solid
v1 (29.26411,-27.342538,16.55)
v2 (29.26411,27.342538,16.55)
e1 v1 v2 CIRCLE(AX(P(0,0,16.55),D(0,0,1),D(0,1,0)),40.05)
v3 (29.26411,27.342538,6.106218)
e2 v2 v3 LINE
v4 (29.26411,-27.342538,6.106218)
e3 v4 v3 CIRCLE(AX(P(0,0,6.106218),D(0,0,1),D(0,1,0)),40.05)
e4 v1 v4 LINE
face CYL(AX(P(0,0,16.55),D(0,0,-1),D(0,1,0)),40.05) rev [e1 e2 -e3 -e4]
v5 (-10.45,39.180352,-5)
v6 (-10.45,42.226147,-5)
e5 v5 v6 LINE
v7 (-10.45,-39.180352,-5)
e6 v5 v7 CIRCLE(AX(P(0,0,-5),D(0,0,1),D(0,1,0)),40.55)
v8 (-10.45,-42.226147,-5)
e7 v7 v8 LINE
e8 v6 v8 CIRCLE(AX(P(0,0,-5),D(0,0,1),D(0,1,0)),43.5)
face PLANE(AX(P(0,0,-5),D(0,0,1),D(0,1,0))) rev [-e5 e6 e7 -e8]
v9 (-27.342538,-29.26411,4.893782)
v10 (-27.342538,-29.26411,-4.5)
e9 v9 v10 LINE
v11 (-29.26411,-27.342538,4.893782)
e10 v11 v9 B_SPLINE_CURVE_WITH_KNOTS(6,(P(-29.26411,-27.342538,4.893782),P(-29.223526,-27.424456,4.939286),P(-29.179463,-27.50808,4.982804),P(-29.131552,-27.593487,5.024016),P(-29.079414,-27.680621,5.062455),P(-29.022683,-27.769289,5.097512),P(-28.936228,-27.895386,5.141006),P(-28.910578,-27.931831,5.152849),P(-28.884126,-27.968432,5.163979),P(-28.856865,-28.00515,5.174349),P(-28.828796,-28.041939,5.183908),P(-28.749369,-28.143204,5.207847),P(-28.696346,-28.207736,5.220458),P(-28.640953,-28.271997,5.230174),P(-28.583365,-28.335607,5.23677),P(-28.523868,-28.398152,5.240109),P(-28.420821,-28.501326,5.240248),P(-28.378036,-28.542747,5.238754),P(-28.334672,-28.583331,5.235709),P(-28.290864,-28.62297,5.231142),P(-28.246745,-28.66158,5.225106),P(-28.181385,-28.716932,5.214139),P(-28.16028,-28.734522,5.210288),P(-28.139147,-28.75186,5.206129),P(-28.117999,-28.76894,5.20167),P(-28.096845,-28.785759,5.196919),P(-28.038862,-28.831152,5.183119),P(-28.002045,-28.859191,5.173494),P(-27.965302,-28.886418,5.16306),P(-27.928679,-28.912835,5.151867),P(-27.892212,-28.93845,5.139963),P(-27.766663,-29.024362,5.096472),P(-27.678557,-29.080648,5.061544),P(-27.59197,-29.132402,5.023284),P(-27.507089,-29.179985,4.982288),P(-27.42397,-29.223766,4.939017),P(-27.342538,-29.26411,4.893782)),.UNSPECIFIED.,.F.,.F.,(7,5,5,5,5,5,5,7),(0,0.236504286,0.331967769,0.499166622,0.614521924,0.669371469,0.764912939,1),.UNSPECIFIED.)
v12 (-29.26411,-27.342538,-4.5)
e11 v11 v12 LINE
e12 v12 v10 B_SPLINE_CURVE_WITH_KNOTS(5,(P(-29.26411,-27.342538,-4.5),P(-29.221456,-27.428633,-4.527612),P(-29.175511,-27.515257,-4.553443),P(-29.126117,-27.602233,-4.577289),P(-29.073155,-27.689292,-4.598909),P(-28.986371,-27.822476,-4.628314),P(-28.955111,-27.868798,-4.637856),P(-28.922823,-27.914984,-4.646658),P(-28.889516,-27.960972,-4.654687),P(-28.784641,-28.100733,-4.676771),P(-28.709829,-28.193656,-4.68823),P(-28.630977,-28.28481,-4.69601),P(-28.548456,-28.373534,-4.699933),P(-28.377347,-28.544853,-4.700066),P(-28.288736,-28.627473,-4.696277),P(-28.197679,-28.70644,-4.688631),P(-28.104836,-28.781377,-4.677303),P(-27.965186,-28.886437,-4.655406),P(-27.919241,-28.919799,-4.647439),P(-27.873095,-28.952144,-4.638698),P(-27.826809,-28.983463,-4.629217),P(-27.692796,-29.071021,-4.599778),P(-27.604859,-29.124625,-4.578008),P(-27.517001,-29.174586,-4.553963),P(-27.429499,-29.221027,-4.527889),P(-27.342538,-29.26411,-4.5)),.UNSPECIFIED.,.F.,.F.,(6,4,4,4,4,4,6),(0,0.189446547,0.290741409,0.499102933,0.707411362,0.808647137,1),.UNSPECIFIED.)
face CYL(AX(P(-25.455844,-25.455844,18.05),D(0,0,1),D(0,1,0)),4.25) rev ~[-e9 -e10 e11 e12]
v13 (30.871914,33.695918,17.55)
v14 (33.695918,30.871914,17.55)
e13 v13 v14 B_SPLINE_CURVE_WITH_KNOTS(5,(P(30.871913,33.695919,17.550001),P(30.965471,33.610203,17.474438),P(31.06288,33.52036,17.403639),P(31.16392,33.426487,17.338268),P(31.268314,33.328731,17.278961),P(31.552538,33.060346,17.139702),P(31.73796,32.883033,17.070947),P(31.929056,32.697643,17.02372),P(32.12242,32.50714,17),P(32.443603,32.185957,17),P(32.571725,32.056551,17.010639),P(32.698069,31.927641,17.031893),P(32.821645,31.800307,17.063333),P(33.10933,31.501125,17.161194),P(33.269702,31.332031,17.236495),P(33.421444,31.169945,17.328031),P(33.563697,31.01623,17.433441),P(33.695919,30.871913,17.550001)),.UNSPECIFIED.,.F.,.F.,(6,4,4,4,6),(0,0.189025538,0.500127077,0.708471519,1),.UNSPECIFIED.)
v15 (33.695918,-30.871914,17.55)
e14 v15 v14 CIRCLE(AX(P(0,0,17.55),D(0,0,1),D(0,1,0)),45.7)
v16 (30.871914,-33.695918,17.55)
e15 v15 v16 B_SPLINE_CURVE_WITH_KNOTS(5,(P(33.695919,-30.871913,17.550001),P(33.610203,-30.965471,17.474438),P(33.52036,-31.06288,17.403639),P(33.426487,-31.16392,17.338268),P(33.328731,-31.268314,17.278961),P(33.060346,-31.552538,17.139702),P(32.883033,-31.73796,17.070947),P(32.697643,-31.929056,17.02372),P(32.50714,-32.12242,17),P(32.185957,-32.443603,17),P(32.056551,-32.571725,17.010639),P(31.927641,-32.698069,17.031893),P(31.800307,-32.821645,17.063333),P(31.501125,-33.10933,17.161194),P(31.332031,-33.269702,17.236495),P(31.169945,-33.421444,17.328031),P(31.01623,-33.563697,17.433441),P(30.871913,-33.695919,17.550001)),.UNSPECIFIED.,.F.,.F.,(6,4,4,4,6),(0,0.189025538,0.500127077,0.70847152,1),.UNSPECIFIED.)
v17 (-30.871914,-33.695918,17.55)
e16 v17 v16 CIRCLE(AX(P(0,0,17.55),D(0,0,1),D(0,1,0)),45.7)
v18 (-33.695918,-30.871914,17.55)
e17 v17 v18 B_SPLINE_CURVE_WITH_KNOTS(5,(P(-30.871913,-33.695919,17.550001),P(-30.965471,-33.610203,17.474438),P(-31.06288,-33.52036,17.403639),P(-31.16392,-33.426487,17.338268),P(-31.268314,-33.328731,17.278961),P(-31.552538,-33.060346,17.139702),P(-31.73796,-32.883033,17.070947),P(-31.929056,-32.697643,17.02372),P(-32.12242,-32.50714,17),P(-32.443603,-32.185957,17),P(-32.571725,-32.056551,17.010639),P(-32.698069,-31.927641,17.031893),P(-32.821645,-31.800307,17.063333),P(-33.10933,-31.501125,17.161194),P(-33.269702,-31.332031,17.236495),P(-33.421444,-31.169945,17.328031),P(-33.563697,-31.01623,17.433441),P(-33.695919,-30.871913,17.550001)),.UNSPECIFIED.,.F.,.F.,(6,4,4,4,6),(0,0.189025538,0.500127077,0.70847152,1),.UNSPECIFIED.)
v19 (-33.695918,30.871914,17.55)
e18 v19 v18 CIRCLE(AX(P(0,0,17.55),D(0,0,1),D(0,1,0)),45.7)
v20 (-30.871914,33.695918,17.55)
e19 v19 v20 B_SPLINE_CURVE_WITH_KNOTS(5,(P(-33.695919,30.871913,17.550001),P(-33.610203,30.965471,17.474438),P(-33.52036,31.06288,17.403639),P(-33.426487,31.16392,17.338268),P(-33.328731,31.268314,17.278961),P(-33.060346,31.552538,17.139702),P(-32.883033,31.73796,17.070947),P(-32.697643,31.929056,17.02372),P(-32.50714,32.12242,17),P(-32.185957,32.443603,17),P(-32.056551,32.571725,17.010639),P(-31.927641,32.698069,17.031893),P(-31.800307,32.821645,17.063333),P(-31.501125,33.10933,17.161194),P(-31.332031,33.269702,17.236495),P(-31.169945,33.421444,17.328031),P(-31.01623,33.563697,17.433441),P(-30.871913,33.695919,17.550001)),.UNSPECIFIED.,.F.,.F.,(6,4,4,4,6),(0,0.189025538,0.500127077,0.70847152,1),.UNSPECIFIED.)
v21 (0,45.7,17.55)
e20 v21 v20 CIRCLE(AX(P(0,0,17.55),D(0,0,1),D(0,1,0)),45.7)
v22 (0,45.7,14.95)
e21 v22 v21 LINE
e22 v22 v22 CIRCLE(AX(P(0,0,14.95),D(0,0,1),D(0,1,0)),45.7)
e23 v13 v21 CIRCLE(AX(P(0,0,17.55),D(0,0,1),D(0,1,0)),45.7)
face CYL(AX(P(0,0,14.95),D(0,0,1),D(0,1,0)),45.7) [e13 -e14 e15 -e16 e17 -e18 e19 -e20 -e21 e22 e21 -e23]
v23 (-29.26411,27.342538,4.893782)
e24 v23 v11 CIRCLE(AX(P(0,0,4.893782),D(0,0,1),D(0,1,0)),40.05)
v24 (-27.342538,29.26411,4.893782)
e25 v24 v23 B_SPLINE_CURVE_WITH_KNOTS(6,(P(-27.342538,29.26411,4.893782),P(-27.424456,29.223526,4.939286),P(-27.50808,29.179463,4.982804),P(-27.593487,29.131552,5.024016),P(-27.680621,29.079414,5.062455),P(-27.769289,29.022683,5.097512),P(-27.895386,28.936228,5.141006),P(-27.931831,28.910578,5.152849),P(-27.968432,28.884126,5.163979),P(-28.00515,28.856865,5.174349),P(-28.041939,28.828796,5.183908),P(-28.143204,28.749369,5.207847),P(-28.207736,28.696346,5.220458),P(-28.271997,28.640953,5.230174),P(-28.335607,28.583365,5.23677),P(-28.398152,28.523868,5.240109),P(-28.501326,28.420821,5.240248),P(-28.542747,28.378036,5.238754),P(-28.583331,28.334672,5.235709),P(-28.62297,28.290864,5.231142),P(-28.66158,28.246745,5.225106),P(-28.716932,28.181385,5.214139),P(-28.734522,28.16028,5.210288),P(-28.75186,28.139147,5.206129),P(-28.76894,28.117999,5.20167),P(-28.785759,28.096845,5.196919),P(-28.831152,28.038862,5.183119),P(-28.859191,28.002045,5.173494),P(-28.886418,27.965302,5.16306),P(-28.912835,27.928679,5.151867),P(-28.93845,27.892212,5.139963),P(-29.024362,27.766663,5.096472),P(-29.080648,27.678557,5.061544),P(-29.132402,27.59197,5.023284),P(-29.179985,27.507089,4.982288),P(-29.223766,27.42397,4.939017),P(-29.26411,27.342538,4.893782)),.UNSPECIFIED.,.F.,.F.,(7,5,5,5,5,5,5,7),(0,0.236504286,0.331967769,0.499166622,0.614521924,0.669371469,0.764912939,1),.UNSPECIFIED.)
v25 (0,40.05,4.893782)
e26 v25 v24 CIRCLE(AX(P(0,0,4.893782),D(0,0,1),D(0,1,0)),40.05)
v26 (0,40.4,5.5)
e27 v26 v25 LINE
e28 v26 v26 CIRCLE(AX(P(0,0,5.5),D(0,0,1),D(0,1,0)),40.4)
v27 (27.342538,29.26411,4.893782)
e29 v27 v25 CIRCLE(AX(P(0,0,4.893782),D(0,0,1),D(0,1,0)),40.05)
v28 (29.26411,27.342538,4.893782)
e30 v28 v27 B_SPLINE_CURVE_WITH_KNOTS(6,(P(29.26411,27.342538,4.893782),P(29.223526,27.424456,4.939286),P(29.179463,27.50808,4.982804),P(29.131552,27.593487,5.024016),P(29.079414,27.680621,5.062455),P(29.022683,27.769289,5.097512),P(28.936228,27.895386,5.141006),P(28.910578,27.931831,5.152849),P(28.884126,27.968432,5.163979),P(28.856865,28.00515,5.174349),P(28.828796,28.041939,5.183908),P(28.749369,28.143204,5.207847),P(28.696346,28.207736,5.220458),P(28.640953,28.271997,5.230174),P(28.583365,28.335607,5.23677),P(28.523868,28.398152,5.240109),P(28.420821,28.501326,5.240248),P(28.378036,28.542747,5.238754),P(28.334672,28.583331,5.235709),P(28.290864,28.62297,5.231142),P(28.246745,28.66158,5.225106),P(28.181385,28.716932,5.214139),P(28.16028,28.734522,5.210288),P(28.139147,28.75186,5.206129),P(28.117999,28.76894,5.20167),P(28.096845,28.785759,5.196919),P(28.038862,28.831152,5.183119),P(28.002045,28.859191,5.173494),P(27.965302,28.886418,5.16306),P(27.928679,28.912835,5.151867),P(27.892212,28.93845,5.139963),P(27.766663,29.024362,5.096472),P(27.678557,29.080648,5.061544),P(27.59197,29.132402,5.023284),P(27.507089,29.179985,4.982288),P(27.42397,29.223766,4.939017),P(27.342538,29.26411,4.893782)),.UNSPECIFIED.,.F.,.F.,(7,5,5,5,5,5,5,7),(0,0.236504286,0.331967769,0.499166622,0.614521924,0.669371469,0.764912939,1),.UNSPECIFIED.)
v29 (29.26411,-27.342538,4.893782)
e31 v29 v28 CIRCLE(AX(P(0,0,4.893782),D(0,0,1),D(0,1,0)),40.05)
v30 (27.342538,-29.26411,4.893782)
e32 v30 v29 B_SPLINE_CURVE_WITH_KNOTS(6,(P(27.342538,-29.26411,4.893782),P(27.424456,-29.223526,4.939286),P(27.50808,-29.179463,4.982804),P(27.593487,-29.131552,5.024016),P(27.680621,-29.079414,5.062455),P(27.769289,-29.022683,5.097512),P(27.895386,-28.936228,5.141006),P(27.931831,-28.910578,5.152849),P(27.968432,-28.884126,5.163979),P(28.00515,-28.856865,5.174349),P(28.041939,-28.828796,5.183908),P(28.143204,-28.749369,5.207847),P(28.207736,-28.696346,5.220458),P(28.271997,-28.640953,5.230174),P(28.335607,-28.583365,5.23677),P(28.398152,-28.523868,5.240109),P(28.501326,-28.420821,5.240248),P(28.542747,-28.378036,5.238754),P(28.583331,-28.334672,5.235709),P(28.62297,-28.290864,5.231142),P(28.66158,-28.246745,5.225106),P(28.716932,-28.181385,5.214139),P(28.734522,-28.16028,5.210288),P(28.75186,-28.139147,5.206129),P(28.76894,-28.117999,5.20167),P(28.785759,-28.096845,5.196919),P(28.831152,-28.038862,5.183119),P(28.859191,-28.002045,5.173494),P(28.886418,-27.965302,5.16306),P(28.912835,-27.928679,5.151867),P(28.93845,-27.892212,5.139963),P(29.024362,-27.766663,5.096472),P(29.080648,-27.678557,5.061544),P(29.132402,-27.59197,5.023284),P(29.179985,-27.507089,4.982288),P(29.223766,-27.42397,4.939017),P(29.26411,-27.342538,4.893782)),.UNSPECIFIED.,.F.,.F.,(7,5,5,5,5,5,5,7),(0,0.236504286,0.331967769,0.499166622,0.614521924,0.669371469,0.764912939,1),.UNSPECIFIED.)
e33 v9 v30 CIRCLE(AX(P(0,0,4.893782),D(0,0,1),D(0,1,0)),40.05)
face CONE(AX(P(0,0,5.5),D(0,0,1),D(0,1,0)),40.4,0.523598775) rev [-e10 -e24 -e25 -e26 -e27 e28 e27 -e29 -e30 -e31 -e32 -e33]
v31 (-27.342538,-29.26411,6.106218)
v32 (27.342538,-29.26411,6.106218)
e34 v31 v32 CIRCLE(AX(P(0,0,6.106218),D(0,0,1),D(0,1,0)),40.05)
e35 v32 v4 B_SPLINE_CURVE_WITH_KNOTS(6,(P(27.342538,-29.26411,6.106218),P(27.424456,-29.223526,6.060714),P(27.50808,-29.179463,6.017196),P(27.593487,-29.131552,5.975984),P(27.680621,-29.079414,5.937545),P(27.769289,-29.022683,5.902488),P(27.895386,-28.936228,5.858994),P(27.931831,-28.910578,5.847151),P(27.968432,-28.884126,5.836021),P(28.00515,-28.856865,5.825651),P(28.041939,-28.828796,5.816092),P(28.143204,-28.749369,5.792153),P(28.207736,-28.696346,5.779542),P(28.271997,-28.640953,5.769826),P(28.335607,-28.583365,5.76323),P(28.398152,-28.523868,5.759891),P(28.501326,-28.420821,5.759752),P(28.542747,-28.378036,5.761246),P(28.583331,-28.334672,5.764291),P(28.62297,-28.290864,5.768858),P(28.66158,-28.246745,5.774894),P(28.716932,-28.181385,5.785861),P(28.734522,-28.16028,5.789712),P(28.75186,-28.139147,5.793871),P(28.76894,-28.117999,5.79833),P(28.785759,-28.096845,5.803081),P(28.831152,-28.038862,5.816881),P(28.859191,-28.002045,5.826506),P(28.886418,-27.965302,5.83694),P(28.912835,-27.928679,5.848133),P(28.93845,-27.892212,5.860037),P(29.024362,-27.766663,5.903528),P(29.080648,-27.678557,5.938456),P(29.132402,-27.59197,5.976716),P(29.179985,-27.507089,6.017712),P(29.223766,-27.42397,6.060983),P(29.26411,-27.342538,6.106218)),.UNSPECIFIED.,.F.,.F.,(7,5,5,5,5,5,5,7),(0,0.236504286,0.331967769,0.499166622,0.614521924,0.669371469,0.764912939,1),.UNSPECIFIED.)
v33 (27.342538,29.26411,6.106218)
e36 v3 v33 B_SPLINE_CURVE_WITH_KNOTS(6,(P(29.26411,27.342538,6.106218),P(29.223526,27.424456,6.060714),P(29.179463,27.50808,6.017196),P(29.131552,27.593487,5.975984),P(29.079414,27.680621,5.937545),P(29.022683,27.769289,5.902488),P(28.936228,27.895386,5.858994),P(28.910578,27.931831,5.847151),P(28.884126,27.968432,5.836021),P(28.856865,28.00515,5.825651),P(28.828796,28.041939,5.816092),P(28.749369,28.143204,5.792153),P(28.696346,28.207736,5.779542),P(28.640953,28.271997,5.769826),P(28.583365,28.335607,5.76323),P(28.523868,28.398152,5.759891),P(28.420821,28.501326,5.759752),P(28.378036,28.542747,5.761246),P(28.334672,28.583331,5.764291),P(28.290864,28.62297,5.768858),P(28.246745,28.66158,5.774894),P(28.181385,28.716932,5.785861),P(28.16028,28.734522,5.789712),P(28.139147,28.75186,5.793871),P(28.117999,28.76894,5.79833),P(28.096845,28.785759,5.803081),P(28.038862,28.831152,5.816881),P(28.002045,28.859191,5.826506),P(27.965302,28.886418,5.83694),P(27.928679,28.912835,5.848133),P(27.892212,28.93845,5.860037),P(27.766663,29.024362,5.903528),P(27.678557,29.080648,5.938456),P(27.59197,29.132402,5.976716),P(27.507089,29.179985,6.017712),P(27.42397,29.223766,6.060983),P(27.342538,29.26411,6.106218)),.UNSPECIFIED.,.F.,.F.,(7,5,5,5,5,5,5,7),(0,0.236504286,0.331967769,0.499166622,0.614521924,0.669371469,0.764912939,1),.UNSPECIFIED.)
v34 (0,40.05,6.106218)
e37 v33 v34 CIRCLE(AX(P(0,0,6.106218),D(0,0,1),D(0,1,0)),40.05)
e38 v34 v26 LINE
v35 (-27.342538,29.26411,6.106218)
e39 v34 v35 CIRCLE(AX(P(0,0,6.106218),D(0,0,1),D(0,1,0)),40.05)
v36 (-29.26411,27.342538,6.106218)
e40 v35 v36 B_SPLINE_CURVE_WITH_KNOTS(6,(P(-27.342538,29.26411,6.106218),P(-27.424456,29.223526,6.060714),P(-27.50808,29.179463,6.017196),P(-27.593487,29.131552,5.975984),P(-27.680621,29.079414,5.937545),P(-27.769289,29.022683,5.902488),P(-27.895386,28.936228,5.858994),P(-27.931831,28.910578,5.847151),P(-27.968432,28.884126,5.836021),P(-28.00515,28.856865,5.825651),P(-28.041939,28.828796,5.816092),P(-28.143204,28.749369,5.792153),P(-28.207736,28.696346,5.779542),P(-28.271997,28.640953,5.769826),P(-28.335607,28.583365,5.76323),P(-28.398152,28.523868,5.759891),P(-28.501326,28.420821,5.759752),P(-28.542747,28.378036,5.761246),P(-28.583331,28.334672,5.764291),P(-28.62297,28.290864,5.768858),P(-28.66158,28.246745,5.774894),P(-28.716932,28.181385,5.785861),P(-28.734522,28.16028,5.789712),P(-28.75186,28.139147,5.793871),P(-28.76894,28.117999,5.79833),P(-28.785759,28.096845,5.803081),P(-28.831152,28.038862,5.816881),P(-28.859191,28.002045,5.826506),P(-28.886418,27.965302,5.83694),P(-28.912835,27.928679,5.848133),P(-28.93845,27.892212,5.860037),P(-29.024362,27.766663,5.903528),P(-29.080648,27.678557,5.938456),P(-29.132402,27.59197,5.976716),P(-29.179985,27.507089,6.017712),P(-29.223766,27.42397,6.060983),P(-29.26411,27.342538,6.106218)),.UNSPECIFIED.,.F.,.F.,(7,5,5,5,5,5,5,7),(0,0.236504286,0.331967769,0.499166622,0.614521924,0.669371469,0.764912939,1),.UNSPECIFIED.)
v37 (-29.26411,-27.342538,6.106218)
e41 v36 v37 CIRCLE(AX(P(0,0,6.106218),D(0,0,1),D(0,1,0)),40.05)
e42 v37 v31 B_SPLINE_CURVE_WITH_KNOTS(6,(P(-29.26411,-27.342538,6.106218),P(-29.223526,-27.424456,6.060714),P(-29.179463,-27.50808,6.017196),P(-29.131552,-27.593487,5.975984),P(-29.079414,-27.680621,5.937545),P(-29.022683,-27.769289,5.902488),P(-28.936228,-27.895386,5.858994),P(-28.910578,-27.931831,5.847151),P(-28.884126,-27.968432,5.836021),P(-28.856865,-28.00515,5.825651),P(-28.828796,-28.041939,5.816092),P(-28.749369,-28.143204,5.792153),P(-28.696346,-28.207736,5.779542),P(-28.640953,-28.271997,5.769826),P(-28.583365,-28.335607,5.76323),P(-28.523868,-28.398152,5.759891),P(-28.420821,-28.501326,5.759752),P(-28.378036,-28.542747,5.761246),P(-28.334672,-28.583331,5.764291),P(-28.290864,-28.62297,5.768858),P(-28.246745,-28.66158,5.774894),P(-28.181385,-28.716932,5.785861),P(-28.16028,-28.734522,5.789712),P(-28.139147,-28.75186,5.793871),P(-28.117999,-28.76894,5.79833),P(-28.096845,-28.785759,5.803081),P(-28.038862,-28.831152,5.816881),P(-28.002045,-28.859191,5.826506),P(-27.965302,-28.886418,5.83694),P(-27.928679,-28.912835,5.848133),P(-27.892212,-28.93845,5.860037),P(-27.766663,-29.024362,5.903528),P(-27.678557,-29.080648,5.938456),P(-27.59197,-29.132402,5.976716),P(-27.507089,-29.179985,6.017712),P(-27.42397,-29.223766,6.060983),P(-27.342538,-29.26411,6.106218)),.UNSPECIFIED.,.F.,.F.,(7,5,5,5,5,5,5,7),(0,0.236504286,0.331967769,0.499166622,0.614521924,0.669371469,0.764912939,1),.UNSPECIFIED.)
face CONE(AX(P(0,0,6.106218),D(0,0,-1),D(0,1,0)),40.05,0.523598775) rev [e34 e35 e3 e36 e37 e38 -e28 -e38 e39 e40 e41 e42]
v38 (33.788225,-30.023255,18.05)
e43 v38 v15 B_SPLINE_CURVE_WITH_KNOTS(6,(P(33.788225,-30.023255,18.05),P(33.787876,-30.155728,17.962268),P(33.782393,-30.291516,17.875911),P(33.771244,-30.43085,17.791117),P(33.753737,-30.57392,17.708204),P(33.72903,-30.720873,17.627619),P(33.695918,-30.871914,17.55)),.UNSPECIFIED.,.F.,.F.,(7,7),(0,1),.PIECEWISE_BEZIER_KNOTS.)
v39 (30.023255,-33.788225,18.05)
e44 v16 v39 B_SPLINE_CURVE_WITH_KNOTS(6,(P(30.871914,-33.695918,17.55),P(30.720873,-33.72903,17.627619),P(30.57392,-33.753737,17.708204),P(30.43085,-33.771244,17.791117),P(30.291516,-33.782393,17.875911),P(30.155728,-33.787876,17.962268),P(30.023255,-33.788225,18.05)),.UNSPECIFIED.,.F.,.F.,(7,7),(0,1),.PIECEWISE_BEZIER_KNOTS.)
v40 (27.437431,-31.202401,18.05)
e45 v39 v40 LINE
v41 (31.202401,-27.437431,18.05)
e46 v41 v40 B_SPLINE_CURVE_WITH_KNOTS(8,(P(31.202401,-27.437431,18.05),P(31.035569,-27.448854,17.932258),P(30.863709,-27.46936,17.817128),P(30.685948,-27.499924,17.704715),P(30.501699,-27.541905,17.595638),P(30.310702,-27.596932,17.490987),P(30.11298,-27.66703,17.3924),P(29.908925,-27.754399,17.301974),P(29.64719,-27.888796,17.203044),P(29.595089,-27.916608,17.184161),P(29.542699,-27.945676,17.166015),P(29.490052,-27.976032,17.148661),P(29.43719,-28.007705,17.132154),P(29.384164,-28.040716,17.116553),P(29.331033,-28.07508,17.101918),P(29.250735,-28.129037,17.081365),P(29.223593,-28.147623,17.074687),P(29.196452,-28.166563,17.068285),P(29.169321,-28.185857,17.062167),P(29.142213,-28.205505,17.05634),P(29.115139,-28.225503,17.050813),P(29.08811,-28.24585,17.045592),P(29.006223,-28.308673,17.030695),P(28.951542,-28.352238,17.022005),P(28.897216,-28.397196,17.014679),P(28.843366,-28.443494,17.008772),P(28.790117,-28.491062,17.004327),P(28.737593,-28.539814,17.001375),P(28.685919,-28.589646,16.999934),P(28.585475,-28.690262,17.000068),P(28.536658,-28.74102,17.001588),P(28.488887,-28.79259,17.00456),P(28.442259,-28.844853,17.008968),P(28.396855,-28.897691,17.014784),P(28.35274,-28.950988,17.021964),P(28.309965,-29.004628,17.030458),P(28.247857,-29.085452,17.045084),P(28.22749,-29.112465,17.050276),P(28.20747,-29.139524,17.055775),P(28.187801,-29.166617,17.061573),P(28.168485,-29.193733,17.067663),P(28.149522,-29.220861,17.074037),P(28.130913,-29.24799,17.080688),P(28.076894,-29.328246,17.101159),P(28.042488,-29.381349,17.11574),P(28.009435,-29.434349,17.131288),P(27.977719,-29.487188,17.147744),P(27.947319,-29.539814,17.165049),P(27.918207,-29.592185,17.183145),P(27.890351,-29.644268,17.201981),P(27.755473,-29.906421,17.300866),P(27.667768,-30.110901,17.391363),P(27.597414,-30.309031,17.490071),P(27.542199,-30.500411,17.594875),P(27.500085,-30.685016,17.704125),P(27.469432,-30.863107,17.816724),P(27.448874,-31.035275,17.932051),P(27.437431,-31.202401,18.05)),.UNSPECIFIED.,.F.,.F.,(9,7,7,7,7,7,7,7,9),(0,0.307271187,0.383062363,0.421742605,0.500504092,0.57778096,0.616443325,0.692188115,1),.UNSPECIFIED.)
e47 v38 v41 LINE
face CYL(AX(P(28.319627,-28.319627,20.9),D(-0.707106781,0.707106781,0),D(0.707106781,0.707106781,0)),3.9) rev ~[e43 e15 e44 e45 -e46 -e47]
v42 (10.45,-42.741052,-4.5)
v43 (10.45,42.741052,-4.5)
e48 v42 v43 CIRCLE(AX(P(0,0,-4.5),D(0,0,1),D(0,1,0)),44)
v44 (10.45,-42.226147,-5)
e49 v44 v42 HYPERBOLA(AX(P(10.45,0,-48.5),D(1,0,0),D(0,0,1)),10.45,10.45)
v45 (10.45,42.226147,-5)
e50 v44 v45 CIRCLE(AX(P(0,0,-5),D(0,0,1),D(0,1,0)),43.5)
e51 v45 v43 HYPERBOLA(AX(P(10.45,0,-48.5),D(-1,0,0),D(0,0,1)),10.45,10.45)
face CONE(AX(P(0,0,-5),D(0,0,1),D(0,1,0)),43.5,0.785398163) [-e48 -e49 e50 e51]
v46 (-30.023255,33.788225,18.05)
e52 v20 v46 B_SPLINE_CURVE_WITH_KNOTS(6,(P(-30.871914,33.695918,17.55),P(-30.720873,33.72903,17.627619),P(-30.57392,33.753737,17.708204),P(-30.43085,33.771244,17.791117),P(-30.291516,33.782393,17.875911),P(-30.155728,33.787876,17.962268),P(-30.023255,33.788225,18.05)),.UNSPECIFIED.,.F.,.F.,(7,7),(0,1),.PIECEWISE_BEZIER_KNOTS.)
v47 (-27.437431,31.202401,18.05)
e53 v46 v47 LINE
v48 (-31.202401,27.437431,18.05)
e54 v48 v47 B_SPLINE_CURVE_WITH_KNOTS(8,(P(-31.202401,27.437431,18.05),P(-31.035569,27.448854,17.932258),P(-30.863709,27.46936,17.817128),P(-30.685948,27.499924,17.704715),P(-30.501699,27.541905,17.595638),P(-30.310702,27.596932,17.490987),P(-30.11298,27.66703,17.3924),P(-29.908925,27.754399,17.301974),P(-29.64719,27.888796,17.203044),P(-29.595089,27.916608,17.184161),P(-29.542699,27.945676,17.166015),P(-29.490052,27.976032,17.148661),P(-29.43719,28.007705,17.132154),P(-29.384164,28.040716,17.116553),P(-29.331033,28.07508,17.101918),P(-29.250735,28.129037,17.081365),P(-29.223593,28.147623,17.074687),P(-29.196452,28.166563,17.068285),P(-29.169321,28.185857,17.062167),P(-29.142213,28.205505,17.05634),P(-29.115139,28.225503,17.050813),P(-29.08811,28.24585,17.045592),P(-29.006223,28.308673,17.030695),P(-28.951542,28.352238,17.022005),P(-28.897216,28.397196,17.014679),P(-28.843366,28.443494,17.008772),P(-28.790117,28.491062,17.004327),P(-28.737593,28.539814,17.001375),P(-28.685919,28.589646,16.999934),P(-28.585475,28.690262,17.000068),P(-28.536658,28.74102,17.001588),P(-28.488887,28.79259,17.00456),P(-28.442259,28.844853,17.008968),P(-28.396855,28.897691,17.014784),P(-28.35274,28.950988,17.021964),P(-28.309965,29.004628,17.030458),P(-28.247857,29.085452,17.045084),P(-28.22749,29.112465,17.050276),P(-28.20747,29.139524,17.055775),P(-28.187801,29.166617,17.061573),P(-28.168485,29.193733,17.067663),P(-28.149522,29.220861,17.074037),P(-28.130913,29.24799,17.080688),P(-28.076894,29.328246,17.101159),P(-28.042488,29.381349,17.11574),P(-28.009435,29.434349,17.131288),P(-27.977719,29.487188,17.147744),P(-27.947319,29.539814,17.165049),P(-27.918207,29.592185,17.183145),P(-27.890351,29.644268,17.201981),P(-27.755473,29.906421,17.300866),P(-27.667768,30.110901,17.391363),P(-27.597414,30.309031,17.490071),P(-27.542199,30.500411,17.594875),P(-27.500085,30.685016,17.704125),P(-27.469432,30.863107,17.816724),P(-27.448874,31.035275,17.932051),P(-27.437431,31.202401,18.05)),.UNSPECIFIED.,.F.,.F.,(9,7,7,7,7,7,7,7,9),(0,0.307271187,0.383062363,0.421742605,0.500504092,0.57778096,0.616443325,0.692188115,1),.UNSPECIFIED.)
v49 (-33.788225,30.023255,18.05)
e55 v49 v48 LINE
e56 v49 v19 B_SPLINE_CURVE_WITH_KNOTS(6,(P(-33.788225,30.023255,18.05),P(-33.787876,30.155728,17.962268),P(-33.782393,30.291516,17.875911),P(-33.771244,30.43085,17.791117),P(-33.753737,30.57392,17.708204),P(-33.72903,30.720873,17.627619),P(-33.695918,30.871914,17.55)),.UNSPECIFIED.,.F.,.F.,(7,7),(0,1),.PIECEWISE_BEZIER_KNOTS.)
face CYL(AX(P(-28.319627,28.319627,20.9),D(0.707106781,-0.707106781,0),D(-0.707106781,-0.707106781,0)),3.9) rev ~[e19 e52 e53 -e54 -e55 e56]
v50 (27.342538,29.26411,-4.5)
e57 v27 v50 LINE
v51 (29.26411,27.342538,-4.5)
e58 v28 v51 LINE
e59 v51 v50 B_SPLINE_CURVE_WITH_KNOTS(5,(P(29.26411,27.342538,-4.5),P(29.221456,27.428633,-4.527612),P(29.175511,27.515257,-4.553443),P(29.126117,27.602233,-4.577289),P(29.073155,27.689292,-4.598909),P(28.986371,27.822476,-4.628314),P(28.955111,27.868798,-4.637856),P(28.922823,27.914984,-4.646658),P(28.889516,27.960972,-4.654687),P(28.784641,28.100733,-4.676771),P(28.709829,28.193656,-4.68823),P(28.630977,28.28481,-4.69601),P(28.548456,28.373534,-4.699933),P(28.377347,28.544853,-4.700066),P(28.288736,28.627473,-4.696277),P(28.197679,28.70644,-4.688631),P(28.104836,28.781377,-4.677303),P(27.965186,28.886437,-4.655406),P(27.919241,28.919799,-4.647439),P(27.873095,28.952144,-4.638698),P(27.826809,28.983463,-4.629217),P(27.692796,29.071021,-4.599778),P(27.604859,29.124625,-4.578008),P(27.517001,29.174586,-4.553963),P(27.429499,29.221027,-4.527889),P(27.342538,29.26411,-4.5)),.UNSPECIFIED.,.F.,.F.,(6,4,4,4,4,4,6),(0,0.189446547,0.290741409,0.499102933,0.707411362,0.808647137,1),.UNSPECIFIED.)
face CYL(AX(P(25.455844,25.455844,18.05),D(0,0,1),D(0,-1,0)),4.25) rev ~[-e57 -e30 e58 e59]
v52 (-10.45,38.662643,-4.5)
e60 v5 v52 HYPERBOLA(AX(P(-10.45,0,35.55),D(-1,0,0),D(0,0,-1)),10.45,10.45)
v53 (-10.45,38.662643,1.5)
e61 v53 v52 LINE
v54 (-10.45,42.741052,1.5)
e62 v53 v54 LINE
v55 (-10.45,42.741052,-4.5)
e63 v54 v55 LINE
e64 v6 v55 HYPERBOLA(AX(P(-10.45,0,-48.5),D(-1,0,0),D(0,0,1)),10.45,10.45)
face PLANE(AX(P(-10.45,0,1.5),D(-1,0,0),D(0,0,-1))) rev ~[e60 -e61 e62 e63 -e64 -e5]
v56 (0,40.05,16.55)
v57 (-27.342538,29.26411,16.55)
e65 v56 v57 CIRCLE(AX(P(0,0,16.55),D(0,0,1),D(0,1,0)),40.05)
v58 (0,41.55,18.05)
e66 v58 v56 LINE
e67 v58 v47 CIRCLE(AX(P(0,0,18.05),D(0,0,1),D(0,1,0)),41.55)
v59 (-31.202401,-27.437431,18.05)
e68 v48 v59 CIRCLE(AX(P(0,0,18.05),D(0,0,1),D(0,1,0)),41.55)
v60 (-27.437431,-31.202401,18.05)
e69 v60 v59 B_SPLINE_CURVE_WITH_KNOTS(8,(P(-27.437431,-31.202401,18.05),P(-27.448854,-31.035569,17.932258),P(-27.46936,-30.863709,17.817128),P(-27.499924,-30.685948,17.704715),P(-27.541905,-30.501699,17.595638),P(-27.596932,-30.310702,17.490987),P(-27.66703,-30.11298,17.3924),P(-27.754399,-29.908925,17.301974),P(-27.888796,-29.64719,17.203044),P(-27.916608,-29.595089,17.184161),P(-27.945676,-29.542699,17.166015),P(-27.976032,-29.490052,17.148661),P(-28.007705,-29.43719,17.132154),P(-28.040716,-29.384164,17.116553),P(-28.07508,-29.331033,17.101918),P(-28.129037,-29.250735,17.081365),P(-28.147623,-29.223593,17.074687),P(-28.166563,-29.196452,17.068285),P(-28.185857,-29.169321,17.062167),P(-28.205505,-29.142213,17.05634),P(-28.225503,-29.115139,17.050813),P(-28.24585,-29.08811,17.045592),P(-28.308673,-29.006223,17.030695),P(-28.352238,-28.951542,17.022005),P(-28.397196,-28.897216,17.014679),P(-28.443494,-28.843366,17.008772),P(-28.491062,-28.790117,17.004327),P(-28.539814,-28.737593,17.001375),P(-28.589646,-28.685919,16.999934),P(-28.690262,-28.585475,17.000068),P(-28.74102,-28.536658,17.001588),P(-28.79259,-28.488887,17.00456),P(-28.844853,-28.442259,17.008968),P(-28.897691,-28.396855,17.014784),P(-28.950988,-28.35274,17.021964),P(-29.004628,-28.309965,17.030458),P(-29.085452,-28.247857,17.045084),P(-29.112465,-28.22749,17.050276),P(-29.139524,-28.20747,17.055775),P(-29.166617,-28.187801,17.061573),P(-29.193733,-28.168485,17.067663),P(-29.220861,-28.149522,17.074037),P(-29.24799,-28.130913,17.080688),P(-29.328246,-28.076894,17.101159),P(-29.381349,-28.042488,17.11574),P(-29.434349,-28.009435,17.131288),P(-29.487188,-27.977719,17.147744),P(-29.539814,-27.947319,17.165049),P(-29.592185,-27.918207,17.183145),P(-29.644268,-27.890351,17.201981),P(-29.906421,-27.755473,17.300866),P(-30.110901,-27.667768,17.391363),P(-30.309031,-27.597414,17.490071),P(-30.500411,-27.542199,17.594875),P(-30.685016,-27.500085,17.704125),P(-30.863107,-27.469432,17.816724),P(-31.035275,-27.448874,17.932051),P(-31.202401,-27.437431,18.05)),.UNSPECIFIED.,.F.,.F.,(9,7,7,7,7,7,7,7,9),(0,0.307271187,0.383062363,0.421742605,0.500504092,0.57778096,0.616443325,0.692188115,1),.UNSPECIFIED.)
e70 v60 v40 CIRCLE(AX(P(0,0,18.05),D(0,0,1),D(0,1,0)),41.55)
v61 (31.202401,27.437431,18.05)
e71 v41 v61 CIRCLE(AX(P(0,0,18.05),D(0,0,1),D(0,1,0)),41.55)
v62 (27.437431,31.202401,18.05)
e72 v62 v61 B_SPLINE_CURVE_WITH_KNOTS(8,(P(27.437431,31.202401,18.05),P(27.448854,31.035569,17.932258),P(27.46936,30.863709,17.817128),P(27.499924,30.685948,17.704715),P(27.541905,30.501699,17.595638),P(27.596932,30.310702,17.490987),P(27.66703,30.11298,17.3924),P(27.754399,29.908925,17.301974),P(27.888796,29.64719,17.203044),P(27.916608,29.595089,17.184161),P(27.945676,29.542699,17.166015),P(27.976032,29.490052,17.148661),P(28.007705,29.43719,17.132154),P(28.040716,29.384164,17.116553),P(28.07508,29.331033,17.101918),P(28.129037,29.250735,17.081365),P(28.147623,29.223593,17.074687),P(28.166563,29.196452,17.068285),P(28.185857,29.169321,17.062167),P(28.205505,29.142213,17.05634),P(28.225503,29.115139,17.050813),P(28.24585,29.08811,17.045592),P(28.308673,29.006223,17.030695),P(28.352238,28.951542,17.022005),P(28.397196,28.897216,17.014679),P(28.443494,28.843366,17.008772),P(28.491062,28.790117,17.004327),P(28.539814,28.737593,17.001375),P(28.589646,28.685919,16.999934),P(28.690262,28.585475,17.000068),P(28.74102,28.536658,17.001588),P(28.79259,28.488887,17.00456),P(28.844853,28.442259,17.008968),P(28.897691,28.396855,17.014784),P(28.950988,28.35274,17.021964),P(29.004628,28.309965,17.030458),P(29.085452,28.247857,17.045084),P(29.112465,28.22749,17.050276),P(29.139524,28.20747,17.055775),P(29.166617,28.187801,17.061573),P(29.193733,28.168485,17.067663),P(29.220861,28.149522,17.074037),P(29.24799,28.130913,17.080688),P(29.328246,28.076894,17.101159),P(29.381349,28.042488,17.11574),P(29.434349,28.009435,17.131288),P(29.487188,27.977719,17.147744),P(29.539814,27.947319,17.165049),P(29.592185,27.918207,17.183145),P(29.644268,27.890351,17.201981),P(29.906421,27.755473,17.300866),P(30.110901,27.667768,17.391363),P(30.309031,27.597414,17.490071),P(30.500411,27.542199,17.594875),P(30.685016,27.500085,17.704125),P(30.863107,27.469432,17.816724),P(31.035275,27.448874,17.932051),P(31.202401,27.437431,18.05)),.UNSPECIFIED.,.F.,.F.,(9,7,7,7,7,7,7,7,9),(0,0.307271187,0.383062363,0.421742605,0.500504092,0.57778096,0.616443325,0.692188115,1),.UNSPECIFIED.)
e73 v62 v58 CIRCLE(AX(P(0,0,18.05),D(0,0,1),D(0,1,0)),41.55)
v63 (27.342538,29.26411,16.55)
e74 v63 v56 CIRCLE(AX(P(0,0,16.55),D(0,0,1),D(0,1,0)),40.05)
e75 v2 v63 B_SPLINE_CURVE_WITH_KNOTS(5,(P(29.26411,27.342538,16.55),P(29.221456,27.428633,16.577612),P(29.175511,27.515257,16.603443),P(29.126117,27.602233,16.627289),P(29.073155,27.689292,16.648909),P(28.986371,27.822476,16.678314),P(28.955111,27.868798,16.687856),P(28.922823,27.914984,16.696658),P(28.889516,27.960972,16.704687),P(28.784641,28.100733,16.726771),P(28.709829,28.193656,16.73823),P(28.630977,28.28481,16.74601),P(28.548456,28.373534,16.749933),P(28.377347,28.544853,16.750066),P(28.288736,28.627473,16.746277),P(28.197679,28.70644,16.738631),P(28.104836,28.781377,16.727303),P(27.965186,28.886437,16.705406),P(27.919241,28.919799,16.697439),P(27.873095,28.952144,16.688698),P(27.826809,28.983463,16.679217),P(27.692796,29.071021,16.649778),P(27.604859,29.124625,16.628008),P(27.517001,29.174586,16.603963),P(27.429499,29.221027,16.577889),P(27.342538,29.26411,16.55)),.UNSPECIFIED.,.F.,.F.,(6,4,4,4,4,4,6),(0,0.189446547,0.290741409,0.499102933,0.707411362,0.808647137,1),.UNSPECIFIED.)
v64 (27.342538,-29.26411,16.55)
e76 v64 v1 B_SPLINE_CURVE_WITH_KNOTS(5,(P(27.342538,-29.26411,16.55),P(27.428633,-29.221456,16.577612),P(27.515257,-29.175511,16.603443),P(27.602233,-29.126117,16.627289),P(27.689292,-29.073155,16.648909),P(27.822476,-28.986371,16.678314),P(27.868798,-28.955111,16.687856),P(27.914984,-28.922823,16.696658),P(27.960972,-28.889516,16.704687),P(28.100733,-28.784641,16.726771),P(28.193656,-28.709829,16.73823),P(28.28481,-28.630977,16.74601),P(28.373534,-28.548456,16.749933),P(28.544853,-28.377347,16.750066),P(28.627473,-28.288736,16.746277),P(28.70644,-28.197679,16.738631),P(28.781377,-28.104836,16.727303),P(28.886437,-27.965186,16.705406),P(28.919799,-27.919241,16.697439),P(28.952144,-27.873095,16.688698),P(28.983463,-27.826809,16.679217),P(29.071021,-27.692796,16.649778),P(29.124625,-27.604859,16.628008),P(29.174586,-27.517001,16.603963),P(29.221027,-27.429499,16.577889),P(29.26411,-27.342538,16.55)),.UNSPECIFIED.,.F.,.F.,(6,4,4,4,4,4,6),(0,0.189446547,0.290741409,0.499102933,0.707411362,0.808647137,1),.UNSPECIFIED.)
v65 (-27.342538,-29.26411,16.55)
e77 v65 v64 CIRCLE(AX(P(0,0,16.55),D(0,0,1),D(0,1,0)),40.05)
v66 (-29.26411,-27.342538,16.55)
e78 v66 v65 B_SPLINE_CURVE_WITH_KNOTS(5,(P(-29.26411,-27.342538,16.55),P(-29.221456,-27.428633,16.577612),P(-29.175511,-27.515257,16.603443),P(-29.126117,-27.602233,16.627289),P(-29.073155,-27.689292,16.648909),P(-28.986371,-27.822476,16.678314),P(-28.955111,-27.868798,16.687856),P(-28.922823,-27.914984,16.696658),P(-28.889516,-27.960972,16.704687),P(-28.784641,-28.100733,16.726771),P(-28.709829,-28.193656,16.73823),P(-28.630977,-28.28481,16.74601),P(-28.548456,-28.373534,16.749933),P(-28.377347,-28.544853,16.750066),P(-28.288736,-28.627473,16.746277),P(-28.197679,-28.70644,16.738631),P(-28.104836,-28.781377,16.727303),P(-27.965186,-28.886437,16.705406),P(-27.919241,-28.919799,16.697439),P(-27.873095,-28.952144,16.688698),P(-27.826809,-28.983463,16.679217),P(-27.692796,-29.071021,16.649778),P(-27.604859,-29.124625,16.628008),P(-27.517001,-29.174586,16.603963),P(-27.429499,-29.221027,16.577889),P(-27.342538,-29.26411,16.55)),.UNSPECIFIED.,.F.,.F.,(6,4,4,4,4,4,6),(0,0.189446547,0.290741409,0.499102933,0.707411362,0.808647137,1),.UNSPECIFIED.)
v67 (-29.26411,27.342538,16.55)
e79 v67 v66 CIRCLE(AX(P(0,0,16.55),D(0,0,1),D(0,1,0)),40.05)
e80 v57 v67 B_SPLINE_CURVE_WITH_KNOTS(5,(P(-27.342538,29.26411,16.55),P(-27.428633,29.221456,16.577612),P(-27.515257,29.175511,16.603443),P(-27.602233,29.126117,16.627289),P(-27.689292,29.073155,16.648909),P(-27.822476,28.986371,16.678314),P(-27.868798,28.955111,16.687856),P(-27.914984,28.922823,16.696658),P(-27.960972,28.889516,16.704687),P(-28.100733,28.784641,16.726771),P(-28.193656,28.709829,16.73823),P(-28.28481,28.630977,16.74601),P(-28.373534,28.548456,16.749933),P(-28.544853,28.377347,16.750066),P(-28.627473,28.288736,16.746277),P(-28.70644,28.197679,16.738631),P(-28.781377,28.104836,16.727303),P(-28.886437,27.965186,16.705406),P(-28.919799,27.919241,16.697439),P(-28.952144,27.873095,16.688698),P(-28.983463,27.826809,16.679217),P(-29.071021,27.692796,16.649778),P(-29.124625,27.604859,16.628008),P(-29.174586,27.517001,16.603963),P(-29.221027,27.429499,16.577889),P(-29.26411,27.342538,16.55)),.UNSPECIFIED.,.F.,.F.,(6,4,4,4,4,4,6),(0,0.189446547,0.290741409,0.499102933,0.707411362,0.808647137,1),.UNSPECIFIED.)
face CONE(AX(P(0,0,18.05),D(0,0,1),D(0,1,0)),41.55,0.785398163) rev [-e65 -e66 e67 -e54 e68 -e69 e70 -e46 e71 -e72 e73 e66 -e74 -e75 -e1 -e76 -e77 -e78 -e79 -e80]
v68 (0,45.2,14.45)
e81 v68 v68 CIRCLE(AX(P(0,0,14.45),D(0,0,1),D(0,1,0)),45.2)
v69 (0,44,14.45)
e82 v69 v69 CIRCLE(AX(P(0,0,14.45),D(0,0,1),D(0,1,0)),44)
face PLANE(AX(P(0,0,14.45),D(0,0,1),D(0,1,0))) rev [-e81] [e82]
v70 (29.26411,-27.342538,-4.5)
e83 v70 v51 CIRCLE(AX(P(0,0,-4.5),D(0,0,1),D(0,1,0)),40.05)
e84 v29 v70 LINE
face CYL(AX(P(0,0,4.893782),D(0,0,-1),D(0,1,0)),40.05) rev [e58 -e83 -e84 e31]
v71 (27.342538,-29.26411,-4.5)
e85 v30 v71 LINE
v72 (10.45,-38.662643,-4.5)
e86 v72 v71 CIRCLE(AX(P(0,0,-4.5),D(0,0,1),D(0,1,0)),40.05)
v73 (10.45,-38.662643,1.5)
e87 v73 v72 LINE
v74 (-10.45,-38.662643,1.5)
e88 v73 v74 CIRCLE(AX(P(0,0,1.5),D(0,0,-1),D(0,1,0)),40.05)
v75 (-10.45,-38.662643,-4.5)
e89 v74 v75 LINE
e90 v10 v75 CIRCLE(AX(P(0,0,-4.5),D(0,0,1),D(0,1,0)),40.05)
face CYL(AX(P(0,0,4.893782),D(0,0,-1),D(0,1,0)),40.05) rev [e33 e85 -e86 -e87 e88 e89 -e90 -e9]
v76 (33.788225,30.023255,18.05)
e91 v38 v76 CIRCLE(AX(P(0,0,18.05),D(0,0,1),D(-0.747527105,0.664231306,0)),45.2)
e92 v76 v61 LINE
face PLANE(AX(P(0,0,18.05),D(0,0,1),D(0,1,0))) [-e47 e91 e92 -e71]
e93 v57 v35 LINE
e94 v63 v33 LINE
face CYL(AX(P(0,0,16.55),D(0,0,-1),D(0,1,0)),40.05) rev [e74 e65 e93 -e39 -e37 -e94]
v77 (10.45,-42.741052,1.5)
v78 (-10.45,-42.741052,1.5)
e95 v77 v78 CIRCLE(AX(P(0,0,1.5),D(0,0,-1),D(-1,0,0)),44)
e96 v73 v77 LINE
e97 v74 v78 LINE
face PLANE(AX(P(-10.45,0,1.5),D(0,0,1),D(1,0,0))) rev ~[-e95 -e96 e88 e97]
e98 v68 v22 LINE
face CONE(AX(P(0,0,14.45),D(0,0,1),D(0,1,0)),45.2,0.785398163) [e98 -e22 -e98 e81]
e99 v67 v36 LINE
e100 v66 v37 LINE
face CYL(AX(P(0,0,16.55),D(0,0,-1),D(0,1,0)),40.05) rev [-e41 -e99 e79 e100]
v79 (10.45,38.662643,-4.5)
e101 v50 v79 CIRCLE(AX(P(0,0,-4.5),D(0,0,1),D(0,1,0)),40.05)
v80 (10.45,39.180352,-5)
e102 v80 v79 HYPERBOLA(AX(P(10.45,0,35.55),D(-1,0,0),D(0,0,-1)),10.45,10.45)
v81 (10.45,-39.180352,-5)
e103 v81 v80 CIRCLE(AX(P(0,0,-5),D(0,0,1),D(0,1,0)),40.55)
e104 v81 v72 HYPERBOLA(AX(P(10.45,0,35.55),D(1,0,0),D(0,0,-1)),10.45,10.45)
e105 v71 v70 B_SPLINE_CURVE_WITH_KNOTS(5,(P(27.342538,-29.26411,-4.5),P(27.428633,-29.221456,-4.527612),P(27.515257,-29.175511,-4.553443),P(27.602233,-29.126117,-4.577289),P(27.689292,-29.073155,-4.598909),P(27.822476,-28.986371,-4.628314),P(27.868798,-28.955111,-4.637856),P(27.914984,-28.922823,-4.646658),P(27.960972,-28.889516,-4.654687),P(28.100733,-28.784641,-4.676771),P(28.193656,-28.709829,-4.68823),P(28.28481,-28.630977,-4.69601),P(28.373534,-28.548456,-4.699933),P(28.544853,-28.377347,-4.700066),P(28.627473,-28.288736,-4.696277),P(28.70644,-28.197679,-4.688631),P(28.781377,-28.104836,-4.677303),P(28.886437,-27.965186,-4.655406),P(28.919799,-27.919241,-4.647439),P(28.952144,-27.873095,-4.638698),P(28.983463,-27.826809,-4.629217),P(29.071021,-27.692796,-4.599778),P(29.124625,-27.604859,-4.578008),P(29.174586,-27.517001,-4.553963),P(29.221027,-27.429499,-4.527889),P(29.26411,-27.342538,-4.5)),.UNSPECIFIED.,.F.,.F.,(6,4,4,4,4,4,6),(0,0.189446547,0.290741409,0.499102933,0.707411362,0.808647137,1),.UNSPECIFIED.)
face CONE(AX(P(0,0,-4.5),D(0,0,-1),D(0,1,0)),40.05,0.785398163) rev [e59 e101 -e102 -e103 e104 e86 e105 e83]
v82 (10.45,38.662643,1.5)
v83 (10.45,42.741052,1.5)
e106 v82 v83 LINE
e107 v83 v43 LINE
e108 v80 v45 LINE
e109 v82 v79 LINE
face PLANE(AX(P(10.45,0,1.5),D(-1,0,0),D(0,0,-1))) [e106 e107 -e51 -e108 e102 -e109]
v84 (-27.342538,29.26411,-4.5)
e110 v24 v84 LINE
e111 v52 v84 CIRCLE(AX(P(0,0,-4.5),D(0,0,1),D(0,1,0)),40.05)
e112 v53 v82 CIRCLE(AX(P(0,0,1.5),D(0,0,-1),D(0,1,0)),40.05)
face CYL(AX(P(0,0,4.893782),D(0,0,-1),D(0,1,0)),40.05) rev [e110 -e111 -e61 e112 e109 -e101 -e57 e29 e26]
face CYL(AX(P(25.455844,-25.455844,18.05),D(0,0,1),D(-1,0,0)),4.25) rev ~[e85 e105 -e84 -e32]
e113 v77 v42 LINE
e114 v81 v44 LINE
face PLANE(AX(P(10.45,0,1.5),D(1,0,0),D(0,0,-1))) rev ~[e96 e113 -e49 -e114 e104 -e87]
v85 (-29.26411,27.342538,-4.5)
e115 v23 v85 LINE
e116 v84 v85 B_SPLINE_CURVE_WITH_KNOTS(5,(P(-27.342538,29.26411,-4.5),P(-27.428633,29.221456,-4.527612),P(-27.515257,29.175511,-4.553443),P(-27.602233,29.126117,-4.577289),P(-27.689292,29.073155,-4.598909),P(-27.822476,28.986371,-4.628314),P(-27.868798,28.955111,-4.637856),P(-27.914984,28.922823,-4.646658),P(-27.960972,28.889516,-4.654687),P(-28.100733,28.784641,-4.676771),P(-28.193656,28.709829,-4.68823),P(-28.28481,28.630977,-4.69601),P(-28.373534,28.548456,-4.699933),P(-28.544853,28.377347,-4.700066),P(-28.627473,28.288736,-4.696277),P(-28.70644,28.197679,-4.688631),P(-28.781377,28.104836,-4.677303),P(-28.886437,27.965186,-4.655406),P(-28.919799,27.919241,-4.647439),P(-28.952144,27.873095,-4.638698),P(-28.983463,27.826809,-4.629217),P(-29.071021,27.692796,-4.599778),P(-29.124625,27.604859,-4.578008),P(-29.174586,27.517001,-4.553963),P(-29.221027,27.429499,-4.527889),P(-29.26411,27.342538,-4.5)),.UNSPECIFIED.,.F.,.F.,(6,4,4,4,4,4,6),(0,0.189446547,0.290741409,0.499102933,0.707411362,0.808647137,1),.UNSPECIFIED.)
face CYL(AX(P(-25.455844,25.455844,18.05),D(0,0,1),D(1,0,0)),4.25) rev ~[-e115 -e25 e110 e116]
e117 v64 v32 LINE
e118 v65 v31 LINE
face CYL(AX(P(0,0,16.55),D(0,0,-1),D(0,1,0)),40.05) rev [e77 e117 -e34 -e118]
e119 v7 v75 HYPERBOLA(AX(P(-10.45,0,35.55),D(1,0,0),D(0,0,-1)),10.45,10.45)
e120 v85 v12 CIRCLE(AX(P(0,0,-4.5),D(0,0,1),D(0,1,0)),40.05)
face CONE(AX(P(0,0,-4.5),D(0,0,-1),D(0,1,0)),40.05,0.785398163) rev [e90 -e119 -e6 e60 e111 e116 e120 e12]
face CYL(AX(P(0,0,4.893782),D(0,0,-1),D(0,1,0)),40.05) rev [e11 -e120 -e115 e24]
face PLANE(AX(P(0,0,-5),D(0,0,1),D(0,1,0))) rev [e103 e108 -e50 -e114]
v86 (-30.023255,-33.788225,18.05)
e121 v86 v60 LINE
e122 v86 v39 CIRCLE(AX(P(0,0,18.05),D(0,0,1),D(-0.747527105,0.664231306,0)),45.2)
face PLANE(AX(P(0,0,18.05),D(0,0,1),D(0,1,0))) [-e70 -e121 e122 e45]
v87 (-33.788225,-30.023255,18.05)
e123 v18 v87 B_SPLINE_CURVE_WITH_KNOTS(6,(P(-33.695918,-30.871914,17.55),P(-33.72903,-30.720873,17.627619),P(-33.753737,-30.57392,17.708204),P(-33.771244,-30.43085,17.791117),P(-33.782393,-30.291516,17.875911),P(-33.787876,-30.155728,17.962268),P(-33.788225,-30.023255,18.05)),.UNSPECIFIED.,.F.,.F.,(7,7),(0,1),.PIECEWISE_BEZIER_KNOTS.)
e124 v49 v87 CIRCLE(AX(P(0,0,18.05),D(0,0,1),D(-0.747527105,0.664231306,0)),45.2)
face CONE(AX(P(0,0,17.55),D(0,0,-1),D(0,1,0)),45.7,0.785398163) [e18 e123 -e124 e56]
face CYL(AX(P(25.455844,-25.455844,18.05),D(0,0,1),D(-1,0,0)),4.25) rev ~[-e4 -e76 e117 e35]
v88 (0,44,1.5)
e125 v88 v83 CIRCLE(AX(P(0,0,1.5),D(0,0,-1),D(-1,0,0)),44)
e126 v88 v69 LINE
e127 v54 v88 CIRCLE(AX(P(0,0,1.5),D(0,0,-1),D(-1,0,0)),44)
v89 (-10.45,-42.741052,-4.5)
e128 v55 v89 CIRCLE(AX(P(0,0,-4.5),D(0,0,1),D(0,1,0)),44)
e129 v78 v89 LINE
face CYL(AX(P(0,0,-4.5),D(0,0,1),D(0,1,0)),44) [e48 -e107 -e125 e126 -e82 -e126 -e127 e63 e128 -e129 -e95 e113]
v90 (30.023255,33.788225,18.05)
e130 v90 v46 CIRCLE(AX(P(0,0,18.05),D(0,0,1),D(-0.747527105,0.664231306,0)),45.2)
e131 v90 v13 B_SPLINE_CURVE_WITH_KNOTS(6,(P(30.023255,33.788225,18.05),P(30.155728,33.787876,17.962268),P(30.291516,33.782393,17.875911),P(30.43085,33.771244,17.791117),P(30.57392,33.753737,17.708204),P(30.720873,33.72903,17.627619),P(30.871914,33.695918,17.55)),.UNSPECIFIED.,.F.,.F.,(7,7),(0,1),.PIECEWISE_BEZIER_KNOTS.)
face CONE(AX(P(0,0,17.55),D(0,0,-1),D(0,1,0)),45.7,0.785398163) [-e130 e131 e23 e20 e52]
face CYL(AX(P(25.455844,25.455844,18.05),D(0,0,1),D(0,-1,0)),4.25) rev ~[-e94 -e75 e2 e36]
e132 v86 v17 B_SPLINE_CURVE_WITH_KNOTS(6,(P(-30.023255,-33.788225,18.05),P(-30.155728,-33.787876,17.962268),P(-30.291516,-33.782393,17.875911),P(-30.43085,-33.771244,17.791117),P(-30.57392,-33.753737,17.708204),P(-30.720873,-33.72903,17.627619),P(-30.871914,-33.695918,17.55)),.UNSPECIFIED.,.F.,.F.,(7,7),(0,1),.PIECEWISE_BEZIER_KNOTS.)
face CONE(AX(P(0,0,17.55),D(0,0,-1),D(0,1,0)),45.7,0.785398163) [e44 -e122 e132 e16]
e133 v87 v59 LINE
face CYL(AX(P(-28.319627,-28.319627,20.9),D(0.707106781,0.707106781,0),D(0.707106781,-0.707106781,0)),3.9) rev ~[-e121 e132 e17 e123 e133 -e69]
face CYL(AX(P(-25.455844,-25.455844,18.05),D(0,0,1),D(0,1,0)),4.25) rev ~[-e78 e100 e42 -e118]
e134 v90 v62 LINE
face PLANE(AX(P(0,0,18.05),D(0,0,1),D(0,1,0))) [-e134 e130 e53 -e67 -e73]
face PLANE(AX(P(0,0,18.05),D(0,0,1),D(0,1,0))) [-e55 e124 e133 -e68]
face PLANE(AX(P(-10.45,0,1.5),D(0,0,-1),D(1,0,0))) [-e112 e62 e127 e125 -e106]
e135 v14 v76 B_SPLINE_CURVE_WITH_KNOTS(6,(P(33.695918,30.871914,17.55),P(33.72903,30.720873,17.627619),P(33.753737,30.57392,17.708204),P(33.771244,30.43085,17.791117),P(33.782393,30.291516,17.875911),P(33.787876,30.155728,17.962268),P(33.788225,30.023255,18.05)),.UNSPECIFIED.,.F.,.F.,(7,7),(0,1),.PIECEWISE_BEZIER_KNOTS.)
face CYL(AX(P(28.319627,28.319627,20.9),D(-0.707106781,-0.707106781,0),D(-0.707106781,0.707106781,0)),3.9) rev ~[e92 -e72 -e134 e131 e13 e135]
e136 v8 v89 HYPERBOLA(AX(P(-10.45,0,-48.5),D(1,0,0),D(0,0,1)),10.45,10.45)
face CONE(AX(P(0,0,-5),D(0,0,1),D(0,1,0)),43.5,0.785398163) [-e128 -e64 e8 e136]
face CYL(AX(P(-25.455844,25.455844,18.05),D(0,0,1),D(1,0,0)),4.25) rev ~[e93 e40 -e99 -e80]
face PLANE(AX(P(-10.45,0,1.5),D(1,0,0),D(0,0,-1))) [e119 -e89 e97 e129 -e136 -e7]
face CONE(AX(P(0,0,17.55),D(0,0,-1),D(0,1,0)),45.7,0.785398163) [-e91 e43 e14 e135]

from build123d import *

# Parameters (mm, degrees)
SKETCH33_MESH_154_R                  = 4.25
CUT_EXTRUDE1_DEPTH                   = 69.616925755
SKETCH34_MESH_158_R                  = 3.9
EXTRUDE21_CUT_159_DEPTH              = 22.5
CIRPATTERN1_COUNT                    = 4
CUT_EXTRUDE11_REACH                  = 69.103
CUT_EXTRUDE11_END_RADIUS             = 44
SKETCH35_MESH_161_W                  = 20.9
SKETCH35_MESH_161_H                  = 6.5
CUT_EXTRUDE11_DIRECTION_2_REACH      = 69.103
CUT_EXTRUDE11_DIRECTION_2_END_RADIUS = 44


with BuildPart() as part:
    # Sketch32 (Mesh)_152 → Revolve1 (revolve)
    with BuildSketch(Plane(origin=(0, 0, 0), x_dir=(0, 0, -1), z_dir=(1, 0, 0)), mode=Mode.PRIVATE) as revolve1_sk:
        Polygon((-16.55, -40.05), (-6.106217783, -40.05), (-5.5, -40.4), (-4.893782217, -40.05), (4.5, -40.05), (5, -40.55), (5, -43.5), (4.5, -44), (-14.45, -44), (-14.45, -45.2), (-14.95, -45.7), (-17.55, -45.7), (-18.05, -45.2), (-18.05, -41.55), align=None)
    revolve(revolve1_sk.sketch.rotate(Axis((0, 0, 0), (0, 0, 1)), 180), axis=Axis((0, 0, 0), (0, 0, 1)))

    # Sketch33 (Mesh)_154 → Cut-Extrude1 (cut, through all)
    with BuildSketch(Plane.XY.offset(18.05)):
        with Locations((-25.455844123, 25.455844123)):
            Circle(SKETCH33_MESH_154_R)
    cut_extrude1 = extrude(amount=-CUT_EXTRUDE1_DEPTH, mode=Mode.SUBTRACT)

    # Sketch34 (Mesh)_158 → Extrude21 (Cut)_159 (cut, symmetric)
    with BuildSketch(Plane(origin=(-28.319626587, 28.319626587, 0), x_dir=(-0.7071067811865464, -0.7071067811865488, 0), z_dir=(0.7071067811865488, -0.7071067811865464, 0))):
        with Locations((0, -20.9)):
            Circle(SKETCH34_MESH_158_R)
    extrude21_cut_159 = extrude(amount=EXTRUDE21_CUT_159_DEPTH, both=True, mode=Mode.SUBTRACT)

    # CirPattern1: Cut-Extrude1, Extrude21 (Cut)_159 ×4 about axis
    cirpattern1_axis = Axis((0, 0, 0), (0, 0, 1))
    add([cut_extrude1.rotate(cirpattern1_axis, i * 360 / CIRPATTERN1_COUNT) for i in range(1, CIRPATTERN1_COUNT)], mode=Mode.SUBTRACT)
    add([extrude21_cut_159.rotate(cirpattern1_axis, i * 360 / CIRPATTERN1_COUNT) for i in range(1, CIRPATTERN1_COUNT)], mode=Mode.SUBTRACT)

    # Cut-Extrude11: up to this cylinder (the profile starts inside it)
    cut_extrude11_end = Plane(origin=(0, 0, -1.75), z_dir=(0, 0, -1)) * Cylinder(CUT_EXTRUDE11_END_RADIUS, 227.206, mode=Mode.PRIVATE)
    # Sketch35 (Mesh)_161 → Cut-Extrude11 (cut, up to the surface)
    with BuildSketch(Plane(origin=(0, 0, 0), x_dir=(1, 0, 0), z_dir=(0, 1, 0)), mode=Mode.PRIVATE) as cut_extrude11_sk1:
        with Locations((0, 1.75)):
            Rectangle(SKETCH35_MESH_161_W, SKETCH35_MESH_161_H)
    cut_extrude11_tool1 = extrude(cut_extrude11_sk1.sketch, amount=CUT_EXTRUDE11_REACH, mode=Mode.PRIVATE) & cut_extrude11_end
    add(cut_extrude11_tool1.solids().sort_by_distance((0, 0, -1.75))[0], mode=Mode.SUBTRACT)

    # Cut-Extrude11 direction 2: up to this cylinder (the profile starts inside it)
    cut_extrude11_direction_2_end = Plane(origin=(0, 0, -1.75), z_dir=(0, 0, -1)) * Cylinder(CUT_EXTRUDE11_DIRECTION_2_END_RADIUS, 227.206, mode=Mode.PRIVATE)
    # Sketch35 (Mesh)_161 → Cut-Extrude11 direction 2 (cut, up to the surface)
    with BuildSketch(Plane(origin=(0, 0, 0), x_dir=(1, 0, 0), z_dir=(0, 1, 0)), mode=Mode.PRIVATE) as cut_extrude11_direction_2_sk1:
        with Locations((0, 1.75)):
            Rectangle(SKETCH35_MESH_161_W, SKETCH35_MESH_161_H)
    cut_extrude11_direction_2_tool1 = extrude(cut_extrude11_direction_2_sk1.sketch, amount=-CUT_EXTRUDE11_DIRECTION_2_REACH, mode=Mode.PRIVATE) & cut_extrude11_direction_2_end
    add(cut_extrude11_direction_2_tool1.solids().sort_by_distance((0, 0, -1.75))[0], mode=Mode.SUBTRACT)


solid = part.part
